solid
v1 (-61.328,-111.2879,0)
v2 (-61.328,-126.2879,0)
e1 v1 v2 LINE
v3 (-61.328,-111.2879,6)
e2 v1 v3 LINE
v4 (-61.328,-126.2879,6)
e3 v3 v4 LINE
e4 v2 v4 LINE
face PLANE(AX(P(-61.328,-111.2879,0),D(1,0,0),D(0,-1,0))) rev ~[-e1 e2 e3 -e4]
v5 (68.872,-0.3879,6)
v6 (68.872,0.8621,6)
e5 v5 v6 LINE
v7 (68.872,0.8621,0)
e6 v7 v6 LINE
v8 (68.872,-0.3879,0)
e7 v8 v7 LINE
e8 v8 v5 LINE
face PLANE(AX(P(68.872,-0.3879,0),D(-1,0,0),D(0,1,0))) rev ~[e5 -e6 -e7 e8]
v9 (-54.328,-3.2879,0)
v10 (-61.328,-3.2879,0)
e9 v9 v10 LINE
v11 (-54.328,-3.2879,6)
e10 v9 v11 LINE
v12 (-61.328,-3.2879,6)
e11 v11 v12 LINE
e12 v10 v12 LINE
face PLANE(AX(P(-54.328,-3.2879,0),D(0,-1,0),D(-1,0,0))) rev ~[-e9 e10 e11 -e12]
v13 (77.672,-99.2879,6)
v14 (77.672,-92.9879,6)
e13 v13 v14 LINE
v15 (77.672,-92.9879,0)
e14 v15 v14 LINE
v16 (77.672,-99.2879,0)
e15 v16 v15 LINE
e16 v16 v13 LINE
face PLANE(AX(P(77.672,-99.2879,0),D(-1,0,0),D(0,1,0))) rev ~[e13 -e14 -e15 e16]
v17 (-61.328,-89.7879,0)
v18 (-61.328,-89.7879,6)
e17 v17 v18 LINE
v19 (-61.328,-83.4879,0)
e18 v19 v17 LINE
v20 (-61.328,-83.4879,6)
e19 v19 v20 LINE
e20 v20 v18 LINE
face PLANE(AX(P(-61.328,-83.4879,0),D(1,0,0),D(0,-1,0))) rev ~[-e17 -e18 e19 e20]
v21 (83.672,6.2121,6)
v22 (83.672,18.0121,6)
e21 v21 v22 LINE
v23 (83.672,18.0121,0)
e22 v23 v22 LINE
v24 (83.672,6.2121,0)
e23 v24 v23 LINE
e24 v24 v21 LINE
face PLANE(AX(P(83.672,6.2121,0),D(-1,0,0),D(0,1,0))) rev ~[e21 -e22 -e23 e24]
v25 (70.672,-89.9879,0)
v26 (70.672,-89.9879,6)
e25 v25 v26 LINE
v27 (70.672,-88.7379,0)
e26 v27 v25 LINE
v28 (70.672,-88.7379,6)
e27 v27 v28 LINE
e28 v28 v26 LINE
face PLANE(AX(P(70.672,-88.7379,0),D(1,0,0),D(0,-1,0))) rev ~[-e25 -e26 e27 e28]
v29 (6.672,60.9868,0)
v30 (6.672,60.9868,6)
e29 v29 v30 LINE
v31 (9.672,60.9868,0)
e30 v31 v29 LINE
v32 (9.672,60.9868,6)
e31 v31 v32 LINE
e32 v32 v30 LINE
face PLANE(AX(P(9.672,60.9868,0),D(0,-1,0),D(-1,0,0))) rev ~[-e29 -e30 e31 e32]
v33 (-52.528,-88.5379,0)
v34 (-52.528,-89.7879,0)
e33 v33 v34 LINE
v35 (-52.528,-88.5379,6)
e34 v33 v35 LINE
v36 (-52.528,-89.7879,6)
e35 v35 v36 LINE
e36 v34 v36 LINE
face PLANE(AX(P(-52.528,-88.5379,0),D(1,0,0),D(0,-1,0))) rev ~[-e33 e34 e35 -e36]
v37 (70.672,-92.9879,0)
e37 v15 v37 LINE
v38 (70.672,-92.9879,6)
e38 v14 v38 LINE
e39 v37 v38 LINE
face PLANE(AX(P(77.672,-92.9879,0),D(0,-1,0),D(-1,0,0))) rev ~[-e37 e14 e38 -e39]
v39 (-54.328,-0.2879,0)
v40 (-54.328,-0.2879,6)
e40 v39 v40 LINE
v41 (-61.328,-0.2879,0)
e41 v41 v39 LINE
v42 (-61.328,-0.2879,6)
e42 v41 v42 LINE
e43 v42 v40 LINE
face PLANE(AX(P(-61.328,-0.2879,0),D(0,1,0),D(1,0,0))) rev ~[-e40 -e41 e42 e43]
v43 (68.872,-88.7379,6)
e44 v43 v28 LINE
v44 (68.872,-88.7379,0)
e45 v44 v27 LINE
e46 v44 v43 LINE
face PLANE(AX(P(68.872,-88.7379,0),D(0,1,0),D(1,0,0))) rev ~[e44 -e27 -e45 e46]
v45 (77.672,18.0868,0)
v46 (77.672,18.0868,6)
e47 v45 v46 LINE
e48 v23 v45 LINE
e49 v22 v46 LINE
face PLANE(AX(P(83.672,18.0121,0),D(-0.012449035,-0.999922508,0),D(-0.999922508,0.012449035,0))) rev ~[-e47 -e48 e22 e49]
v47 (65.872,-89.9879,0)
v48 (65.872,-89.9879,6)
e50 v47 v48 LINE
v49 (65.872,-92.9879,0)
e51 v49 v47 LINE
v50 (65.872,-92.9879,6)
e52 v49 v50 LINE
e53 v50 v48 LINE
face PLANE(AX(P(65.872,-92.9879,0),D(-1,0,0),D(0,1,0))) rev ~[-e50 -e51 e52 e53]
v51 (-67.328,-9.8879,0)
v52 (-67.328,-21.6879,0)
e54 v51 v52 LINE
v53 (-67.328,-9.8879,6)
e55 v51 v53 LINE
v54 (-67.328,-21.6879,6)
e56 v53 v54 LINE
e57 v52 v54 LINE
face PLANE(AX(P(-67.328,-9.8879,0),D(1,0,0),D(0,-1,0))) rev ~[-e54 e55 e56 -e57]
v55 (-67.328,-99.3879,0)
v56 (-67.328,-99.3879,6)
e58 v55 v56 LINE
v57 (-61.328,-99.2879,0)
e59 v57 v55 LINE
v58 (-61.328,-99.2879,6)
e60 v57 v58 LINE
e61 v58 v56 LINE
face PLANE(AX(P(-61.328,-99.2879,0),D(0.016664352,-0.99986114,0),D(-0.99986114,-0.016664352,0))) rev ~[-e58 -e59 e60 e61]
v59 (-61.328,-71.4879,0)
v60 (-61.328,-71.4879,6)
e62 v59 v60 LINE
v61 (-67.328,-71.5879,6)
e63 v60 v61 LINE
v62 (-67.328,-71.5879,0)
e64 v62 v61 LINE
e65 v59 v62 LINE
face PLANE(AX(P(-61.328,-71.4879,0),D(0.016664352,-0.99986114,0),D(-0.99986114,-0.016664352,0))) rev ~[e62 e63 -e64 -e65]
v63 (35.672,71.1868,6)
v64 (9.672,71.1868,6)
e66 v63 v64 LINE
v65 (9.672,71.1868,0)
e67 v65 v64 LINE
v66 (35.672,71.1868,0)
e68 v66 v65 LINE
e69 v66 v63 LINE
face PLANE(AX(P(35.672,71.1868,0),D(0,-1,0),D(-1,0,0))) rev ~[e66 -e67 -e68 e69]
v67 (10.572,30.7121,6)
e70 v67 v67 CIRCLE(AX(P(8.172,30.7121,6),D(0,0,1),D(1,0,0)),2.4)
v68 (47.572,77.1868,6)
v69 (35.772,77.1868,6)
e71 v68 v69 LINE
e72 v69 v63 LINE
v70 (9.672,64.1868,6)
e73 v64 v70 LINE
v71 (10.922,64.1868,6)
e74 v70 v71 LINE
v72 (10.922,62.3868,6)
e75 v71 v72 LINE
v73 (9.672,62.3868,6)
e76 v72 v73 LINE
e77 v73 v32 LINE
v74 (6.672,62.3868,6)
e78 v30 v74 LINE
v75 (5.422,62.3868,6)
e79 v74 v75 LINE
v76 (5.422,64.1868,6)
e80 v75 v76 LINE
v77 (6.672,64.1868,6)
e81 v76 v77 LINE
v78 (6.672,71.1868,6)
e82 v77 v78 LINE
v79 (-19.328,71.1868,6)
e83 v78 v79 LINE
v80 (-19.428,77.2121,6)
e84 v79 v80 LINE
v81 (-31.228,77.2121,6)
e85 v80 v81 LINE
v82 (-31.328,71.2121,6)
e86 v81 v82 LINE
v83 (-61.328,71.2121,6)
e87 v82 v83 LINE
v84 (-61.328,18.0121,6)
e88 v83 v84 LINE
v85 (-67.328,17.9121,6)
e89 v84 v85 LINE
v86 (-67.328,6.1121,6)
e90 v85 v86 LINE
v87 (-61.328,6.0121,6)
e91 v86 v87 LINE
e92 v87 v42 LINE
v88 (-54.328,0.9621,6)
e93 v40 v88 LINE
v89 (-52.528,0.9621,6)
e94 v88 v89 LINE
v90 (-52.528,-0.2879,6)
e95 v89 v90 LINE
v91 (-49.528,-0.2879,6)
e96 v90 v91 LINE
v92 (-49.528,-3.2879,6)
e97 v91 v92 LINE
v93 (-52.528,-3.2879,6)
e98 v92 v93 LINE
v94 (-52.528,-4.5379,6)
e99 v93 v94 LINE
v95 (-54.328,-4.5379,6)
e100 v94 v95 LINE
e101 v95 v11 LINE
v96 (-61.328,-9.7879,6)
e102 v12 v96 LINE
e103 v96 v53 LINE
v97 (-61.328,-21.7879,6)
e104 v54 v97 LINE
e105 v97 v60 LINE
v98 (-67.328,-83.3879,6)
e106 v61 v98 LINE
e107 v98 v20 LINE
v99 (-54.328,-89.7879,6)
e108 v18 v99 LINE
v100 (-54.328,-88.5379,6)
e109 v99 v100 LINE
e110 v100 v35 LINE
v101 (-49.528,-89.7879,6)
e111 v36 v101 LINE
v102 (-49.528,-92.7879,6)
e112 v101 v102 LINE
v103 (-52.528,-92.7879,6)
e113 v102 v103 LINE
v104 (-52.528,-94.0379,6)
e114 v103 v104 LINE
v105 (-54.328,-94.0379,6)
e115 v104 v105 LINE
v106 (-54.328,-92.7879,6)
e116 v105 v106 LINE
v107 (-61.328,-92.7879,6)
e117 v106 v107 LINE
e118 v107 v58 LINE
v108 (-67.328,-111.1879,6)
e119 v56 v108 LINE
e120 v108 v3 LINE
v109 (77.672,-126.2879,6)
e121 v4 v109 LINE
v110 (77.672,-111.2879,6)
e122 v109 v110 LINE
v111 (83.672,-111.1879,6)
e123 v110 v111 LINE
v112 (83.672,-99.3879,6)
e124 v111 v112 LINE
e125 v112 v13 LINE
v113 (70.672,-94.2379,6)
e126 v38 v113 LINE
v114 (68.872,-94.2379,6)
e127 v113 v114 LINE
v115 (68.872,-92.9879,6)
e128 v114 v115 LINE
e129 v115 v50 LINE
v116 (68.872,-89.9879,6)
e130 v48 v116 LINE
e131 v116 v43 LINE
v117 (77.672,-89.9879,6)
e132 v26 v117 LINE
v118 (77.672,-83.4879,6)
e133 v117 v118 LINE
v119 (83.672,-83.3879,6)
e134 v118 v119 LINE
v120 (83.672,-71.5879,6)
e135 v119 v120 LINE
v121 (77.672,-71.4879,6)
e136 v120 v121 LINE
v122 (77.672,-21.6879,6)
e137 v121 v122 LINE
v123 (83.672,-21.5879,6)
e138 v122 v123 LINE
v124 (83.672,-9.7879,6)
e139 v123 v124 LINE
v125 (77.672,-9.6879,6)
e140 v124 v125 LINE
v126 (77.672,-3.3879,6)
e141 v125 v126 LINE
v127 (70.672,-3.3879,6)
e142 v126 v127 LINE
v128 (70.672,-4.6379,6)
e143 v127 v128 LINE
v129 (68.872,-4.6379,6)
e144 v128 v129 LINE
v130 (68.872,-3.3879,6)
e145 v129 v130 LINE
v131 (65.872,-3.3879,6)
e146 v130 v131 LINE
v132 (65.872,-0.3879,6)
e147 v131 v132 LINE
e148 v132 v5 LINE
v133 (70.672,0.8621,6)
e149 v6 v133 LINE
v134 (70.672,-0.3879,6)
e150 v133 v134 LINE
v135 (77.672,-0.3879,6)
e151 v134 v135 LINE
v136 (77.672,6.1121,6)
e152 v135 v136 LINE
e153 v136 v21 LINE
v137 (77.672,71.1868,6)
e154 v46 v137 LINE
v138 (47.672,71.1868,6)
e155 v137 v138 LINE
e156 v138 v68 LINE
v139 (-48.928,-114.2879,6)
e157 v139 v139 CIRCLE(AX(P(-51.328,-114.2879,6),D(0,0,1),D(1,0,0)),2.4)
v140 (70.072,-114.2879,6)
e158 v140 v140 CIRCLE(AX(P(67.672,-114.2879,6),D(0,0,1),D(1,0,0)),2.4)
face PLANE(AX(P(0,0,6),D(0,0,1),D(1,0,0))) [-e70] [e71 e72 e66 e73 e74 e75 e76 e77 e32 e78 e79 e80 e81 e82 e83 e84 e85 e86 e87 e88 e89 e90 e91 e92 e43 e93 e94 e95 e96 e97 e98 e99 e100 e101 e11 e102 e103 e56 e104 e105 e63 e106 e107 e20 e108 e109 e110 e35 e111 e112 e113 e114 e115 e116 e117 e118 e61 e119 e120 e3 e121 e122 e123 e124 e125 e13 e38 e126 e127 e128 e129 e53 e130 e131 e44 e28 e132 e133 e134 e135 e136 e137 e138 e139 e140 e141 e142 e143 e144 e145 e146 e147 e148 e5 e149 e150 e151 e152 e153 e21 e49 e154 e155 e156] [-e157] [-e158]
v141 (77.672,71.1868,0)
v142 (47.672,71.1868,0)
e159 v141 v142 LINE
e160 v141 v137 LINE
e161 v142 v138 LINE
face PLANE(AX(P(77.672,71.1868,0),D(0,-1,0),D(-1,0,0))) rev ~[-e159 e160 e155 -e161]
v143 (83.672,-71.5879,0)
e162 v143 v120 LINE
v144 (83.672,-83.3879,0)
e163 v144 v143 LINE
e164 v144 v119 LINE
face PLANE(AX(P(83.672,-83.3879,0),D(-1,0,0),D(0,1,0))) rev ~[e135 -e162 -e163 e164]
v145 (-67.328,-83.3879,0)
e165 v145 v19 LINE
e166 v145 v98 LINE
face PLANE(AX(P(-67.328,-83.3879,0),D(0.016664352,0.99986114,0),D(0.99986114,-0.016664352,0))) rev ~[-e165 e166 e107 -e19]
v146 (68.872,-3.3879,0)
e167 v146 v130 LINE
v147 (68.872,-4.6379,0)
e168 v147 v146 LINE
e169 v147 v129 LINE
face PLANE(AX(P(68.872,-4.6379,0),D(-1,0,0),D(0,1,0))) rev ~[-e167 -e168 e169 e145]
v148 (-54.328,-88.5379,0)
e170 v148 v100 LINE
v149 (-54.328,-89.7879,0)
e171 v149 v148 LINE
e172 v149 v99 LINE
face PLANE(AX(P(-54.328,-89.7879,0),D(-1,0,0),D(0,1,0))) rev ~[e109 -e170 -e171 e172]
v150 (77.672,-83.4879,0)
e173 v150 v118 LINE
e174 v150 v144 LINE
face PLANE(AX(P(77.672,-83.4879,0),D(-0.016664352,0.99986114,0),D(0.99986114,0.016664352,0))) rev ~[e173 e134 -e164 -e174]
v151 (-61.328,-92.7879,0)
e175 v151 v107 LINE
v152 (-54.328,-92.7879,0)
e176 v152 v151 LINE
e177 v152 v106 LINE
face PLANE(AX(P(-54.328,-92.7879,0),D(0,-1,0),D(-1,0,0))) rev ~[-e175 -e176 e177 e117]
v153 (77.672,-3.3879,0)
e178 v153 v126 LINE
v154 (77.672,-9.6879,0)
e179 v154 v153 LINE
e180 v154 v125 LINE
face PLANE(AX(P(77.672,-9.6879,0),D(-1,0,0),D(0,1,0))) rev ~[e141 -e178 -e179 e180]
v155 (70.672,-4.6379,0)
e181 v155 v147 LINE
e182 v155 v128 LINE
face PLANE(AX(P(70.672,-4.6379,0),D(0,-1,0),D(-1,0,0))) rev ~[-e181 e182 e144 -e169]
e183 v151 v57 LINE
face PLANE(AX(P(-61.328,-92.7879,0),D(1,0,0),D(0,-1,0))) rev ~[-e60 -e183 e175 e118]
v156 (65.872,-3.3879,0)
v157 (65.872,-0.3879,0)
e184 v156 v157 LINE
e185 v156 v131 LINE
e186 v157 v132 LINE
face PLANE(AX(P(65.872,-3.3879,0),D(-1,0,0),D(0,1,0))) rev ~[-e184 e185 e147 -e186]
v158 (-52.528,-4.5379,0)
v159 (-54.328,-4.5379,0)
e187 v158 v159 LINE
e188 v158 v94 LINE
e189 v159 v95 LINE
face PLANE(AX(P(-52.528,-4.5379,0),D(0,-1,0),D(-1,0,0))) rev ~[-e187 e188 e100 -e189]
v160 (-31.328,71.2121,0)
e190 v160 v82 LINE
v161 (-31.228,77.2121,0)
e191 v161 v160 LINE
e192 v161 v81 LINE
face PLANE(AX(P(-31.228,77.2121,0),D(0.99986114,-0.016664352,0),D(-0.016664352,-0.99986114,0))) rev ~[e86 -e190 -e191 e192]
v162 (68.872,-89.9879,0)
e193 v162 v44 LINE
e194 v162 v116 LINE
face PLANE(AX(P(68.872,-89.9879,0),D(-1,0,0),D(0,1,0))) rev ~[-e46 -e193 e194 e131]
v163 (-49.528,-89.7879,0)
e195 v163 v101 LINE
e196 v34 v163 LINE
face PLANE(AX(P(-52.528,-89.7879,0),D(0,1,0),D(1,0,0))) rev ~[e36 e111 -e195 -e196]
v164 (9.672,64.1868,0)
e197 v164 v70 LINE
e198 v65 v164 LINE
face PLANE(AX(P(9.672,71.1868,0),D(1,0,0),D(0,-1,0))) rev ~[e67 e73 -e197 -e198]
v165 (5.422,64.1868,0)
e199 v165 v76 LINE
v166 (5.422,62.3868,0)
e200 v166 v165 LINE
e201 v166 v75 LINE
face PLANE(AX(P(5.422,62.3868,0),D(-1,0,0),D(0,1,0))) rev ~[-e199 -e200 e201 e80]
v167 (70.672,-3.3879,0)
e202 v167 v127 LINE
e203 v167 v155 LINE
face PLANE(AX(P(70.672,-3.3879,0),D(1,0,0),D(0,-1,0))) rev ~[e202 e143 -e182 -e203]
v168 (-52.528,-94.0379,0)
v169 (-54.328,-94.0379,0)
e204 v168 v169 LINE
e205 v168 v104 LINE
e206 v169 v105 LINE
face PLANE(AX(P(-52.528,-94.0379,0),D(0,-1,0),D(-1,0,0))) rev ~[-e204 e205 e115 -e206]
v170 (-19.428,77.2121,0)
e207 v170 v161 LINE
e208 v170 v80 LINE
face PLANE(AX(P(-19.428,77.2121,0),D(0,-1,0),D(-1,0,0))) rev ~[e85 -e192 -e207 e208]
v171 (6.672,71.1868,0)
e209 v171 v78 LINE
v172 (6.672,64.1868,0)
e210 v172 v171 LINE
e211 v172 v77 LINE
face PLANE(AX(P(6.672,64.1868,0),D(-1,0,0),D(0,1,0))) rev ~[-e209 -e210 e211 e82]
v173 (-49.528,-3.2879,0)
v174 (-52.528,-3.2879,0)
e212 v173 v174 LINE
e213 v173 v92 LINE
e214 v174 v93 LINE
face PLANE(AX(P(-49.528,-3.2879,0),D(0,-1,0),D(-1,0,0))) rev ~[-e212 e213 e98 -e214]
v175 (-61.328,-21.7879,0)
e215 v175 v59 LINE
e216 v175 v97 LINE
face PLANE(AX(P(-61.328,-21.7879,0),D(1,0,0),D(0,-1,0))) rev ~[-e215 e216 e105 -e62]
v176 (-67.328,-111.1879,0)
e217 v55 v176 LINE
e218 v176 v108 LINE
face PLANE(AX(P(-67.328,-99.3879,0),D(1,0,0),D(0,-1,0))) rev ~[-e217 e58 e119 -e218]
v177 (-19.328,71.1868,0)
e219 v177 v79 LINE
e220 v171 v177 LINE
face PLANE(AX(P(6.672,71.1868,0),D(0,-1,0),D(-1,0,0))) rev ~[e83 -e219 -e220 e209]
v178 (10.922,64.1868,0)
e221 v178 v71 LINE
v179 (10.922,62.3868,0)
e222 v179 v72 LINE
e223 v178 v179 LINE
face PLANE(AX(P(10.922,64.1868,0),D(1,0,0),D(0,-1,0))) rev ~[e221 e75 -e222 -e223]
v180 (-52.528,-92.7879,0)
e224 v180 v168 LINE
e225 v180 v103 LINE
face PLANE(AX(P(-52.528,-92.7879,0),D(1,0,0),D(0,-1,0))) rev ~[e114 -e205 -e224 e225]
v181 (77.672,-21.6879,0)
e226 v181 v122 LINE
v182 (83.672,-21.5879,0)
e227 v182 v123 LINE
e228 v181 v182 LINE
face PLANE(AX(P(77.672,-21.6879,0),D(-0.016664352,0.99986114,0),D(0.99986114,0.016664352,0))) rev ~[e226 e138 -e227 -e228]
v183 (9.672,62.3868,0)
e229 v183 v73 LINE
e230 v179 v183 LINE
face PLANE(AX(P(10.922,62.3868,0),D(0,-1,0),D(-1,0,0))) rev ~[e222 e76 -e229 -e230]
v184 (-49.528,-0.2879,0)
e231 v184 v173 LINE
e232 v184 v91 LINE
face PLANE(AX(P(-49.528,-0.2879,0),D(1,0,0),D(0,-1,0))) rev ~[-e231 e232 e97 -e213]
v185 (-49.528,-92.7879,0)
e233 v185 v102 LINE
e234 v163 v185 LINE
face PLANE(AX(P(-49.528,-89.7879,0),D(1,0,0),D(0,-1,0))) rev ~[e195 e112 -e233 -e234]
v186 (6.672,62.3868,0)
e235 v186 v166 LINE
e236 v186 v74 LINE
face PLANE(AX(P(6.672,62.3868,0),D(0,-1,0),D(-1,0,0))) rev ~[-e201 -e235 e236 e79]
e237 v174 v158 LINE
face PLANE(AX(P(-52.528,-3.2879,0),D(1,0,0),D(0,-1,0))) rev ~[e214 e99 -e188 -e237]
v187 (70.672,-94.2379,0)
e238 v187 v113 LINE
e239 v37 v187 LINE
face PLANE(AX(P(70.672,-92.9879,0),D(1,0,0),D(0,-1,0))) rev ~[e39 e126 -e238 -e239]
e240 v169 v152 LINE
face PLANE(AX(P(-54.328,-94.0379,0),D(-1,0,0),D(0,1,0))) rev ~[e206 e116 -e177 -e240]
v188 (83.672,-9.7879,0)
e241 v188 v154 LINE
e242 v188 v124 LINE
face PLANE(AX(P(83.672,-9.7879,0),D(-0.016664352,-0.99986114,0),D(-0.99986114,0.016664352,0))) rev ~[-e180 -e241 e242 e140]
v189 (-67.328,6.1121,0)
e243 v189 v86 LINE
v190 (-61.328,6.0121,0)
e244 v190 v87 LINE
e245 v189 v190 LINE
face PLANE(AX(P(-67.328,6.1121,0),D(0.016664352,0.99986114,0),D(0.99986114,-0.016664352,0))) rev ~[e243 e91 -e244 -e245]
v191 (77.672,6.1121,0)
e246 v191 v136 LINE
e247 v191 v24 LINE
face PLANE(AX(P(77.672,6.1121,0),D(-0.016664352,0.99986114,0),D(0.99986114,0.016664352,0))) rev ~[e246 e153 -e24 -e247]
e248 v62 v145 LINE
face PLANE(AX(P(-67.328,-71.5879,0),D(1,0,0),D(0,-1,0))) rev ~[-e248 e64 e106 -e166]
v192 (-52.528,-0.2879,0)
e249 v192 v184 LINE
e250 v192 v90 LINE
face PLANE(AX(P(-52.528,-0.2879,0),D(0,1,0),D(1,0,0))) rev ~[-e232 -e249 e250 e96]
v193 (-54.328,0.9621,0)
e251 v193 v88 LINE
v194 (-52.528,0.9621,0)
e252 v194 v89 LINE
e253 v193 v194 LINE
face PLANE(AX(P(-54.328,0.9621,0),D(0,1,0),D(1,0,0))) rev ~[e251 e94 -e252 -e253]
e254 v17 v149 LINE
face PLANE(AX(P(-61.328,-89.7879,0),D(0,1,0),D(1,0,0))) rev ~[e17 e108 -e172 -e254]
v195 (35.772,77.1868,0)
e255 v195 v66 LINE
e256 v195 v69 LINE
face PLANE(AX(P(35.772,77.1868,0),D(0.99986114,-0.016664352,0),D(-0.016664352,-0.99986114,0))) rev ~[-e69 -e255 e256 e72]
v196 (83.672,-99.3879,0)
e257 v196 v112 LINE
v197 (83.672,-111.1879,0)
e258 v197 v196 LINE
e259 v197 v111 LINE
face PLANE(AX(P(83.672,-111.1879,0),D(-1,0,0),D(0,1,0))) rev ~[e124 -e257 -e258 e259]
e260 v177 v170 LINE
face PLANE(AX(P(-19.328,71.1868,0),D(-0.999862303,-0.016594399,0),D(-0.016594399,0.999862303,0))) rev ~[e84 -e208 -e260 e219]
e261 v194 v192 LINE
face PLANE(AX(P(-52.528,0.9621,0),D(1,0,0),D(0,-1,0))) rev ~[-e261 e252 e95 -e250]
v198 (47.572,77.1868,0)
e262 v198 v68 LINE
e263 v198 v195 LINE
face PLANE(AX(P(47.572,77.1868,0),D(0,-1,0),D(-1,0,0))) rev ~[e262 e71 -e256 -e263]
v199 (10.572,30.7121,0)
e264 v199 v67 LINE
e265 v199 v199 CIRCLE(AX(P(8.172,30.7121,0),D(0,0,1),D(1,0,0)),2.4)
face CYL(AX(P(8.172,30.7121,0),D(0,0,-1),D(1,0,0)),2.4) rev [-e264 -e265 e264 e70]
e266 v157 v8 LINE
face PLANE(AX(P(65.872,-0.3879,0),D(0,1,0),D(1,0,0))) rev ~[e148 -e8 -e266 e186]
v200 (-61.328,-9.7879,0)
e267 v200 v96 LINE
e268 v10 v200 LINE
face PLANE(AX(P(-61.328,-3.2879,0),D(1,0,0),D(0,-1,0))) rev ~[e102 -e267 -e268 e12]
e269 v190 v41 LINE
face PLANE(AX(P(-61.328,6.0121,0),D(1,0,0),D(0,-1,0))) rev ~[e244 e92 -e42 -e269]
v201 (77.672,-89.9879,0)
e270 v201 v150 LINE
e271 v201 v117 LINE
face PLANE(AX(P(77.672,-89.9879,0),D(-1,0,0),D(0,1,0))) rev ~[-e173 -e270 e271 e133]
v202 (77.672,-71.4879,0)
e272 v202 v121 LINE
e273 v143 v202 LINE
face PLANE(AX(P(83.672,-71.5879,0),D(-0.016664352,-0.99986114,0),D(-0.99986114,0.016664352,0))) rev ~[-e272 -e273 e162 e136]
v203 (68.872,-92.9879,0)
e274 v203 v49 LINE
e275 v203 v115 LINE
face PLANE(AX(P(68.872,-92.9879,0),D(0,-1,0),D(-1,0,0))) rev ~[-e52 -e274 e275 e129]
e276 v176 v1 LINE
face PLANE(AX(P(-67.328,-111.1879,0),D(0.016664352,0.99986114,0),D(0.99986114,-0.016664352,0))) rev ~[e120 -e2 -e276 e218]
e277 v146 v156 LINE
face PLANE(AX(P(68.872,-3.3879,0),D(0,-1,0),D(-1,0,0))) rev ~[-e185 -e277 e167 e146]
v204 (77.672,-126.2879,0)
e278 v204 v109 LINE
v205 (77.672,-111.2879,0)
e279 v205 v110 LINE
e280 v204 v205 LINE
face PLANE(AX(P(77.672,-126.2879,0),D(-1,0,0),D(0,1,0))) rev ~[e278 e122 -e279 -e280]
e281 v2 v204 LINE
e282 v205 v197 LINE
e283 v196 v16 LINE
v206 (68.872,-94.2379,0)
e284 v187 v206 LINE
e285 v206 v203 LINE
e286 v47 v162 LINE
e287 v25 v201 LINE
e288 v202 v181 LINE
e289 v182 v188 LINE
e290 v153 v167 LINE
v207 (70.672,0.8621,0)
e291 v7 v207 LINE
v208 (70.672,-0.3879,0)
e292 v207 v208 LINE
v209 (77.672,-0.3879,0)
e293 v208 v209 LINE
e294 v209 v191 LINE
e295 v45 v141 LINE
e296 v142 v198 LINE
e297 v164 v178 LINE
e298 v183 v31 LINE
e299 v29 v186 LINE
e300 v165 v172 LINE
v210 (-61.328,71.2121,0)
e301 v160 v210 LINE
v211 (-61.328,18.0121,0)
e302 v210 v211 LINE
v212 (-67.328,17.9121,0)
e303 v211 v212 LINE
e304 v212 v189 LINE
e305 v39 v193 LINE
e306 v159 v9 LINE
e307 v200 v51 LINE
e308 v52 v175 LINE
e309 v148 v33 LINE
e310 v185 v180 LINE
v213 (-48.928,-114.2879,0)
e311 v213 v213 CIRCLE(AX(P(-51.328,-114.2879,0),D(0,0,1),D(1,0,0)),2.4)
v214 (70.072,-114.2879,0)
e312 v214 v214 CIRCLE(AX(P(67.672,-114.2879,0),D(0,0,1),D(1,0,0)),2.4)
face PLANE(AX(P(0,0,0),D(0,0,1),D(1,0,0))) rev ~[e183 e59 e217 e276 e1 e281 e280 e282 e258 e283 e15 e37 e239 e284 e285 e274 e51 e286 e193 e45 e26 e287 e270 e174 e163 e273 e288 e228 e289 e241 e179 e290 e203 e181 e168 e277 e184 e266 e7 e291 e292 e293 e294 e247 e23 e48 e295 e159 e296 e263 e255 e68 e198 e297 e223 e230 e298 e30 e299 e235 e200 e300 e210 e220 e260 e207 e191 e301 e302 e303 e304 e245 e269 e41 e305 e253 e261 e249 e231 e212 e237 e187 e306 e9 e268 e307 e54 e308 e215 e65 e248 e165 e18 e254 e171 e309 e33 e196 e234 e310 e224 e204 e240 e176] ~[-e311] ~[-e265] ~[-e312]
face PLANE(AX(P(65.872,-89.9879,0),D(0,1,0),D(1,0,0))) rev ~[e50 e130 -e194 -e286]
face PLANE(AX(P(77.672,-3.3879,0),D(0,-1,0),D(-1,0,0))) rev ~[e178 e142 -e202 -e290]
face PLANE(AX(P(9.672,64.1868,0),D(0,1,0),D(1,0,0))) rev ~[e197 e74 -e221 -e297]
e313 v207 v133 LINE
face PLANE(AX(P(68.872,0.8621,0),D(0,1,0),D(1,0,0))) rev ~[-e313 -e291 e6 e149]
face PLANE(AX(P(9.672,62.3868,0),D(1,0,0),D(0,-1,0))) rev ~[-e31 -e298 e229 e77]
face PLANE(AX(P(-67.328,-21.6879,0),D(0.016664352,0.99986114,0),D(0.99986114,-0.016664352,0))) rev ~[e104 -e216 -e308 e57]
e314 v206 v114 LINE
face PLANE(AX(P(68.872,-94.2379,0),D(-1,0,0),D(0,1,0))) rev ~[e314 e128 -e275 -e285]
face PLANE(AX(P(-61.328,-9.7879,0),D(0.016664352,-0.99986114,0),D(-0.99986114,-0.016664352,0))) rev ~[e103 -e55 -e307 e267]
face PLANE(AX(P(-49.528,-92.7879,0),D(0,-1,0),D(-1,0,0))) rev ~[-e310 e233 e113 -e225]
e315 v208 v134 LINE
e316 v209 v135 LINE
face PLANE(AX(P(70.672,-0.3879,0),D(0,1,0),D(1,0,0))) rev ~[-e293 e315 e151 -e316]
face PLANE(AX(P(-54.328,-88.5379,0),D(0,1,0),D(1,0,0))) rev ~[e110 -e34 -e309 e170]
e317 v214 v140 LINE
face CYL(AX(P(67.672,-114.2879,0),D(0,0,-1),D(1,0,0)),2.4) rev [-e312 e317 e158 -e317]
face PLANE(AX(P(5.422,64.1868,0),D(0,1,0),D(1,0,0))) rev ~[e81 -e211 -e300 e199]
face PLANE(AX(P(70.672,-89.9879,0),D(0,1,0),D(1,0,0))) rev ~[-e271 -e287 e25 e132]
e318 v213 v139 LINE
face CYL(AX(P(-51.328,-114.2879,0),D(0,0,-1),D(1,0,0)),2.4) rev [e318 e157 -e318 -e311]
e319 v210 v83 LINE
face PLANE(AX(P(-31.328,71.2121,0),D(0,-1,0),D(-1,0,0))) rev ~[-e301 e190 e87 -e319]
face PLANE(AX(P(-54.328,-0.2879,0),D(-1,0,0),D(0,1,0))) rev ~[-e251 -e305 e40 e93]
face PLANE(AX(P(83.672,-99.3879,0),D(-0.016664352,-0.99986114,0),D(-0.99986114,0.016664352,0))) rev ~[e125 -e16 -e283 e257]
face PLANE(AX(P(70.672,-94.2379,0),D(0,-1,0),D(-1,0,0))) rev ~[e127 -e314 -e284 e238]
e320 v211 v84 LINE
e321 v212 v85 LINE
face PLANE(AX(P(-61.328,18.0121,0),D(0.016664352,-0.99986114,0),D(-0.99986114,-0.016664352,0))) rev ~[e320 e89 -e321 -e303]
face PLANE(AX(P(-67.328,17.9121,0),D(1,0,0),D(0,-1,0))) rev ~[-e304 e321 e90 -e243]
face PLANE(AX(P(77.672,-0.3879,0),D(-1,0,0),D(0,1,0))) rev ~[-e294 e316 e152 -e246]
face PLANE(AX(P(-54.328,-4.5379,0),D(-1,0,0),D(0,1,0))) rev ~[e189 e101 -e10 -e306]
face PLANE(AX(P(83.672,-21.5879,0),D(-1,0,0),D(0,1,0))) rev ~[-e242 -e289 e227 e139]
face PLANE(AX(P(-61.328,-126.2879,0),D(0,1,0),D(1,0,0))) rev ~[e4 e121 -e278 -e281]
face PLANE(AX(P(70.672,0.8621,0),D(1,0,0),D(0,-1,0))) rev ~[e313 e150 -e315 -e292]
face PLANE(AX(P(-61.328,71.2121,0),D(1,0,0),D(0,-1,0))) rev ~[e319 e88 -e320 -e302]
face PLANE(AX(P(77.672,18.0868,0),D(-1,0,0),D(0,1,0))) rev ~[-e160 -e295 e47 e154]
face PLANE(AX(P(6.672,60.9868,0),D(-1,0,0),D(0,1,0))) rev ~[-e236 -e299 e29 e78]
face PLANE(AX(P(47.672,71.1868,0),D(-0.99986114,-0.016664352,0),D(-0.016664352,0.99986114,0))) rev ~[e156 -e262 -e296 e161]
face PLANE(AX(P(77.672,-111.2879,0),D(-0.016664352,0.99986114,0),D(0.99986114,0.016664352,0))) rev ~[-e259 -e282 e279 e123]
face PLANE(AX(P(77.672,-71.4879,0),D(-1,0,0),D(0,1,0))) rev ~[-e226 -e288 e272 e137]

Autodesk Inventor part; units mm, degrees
ref_plane "YZ Plane" through (0, 0, 0) normal (1, 0, 0) x (0, 1, 0)
ref_plane "XZ Plane" through (0, 0, 0) normal (0, 1, 0) x (-1, 0, 0)
ref_plane "XY Plane" through (0, 0, 0) normal (0, 0, 1) x (1, 0, 0)
sketch "Sketch1" plane through (0, 0, 0) normal (0, 0, 1) x (1, 0, 0)
  circle A0 centre (8.172, 30.7121) radius 2.4
  circle A1 centre (67.672, -114.2879) radius 2.4
  circle A2 centre (-51.328, -114.2879) radius 2.4
  line L0 (-61.328, 71.2121) -> (-61.328, 18.0121)
  line L1 (-61.328, 18.0121) -> (-67.328, 17.9121)
  line L2 (-67.328, 17.9121) -> (-67.328, 6.1121)
  line L3 (-67.328, 6.1121) -> (-61.328, 6.0121)
  line L4 (-61.328, 6.0121) -> (-61.328, -0.2879)
  line L5 (-61.328, -0.2879) -> (-54.328, -0.2879)
  line L6 (-54.328, -0.2879) -> (-54.328, 0.9621)
  line L7 (-54.328, 0.9621) -> (-52.528, 0.9621)
  line L8 (-52.528, 0.9621) -> (-52.528, -0.2879)
  line L9 (-52.528, -0.2879) -> (-49.528, -0.2879)
  line L10 (-49.528, -0.2879) -> (-49.528, -3.2879)
  line L11 (-49.528, -3.2879) -> (-52.528, -3.2879)
  line L12 (-52.528, -3.2879) -> (-52.528, -4.5379)
  line L13 (-52.528, -4.5379) -> (-54.328, -4.5379)
  line L14 (-54.328, -4.5379) -> (-54.328, -3.2879)
  line L15 (-54.328, -3.2879) -> (-61.328, -3.2879)
  line L16 (-61.328, -3.2879) -> (-61.328, -9.7879)
  line L17 (-61.328, -9.7879) -> (-67.328, -9.8879)
  line L18 (-67.328, -9.8879) -> (-67.328, -21.6879)
  line L19 (-67.328, -21.6879) -> (-61.328, -21.7879)
  line L20 (-61.328, -21.7879) -> (-61.328, -71.4879)
  line L21 (-61.328, -71.4879) -> (-67.328, -71.5879)
  line L22 (-67.328, -71.5879) -> (-67.328, -83.3879)
  line L23 (-67.328, -83.3879) -> (-61.328, -83.4879)
  line L24 (-61.328, -83.4879) -> (-61.328, -89.7879)
  line L25 (-61.328, -89.7879) -> (-54.328, -89.7879)
  line L26 (-54.328, -89.7879) -> (-54.328, -88.5379)
  line L27 (-54.328, -88.5379) -> (-52.528, -88.5379)
  line L28 (-52.528, -88.5379) -> (-52.528, -89.7879)
  line L29 (-52.528, -89.7879) -> (-49.528, -89.7879)
  line L30 (-49.528, -89.7879) -> (-49.528, -92.7879)
  line L31 (-49.528, -92.7879) -> (-52.528, -92.7879)
  line L32 (-52.528, -92.7879) -> (-52.528, -94.0379)
  line L33 (-52.528, -94.0379) -> (-54.328, -94.0379)
  line L34 (-54.328, -94.0379) -> (-54.328, -92.7879)
  line L35 (-54.328, -92.7879) -> (-61.328, -92.7879)
  line L36 (-61.328, -92.7879) -> (-61.328, -99.2879)
  line L37 (-61.328, -99.2879) -> (-67.328, -99.3879)
  line L38 (-67.328, -99.3879) -> (-67.328, -111.1879)
  line L39 (-67.328, -111.1879) -> (-61.328, -111.2879)
  line L40 (-61.328, -111.2879) -> (-61.328, -126.2879)
  line L41 (-61.328, -126.2879) -> (77.672, -126.2879)
  line L42 (77.672, -126.2879) -> (77.672, -111.2879)
  line L43 (77.672, -111.2879) -> (83.672, -111.1879)
  line L44 (83.672, -111.1879) -> (83.672, -99.3879)
  line L45 (83.672, -99.3879) -> (77.672, -99.2879)
  line L46 (77.672, -99.2879) -> (77.672, -92.9879)
  line L47 (77.672, -92.9879) -> (70.672, -92.9879)
  line L48 (70.672, -92.9879) -> (70.672, -94.2379)
  line L49 (70.672, -94.2379) -> (68.872, -94.2379)
  line L50 (68.872, -94.2379) -> (68.872, -92.9879)
  line L51 (68.872, -92.9879) -> (65.872, -92.9879)
  line L52 (65.872, -92.9879) -> (65.872, -89.9879)
  line L53 (65.872, -89.9879) -> (68.872, -89.9879)
  line L54 (68.872, -89.9879) -> (68.872, -88.7379)
  line L55 (68.872, -88.7379) -> (70.672, -88.7379)
  line L56 (70.672, -88.7379) -> (70.672, -89.9879)
  line L57 (70.672, -89.9879) -> (77.672, -89.9879)
  line L58 (77.672, -89.9879) -> (77.672, -83.4879)
  line L59 (77.672, -83.4879) -> (83.672, -83.3879)
  line L60 (83.672, -83.3879) -> (83.672, -71.5879)
  line L61 (83.672, -71.5879) -> (77.672, -71.4879)
  line L62 (77.672, -71.4879) -> (77.672, -21.6879)
  line L63 (77.672, -21.6879) -> (83.672, -21.5879)
  line L64 (83.672, -21.5879) -> (83.672, -9.7879)
  line L65 (83.672, -9.7879) -> (77.672, -9.6879)
  line L66 (77.672, -9.6879) -> (77.672, -3.3879)
  line L67 (77.672, -3.3879) -> (70.672, -3.3879)
  line L68 (70.672, -3.3879) -> (70.672, -4.6379)
  line L69 (70.672, -4.6379) -> (68.872, -4.6379)
  line L70 (68.872, -4.6379) -> (68.872, -3.3879)
  line L71 (68.872, -3.3879) -> (65.872, -3.3879)
  line L72 (65.872, -3.3879) -> (65.872, -0.3879)
  line L73 (65.872, -0.3879) -> (68.872, -0.3879)
  line L74 (68.872, -0.3879) -> (68.872, 0.8621)
  line L75 (68.872, 0.8621) -> (70.672, 0.8621)
  line L76 (70.672, 0.8621) -> (70.672, -0.3879)
  line L77 (70.672, -0.3879) -> (77.672, -0.3879)
  line L78 (77.672, -0.3879) -> (77.672, 6.1121)
  line L79 (77.672, 6.1121) -> (83.672, 6.2121)
  line L80 (83.672, 6.2121) -> (83.672, 18.0121)
  line L81 (83.672, 18.0121) -> (77.672, 18.0868)
  line L82 (77.672, 18.0868) -> (77.672, 71.1868)
  line L83 (77.672, 71.1868) -> (47.672, 71.1868)
  line L84 (47.672, 71.1868) -> (47.572, 77.1868)
  line L85 (47.572, 77.1868) -> (35.772, 77.1868)
  line L86 (35.772, 77.1868) -> (35.672, 71.1868)
  line L87 (35.672, 71.1868) -> (9.672, 71.1868)
  line L88 (9.672, 71.1868) -> (9.672, 64.1868)
  line L89 (9.672, 64.1868) -> (10.922, 64.1868)
  line L90 (10.922, 64.1868) -> (10.922, 62.3868)
  line L91 (10.922, 62.3868) -> (9.672, 62.3868)
  line L92 (9.672, 62.3868) -> (9.672, 60.9868)
  line L93 (9.672, 60.9868) -> (6.672, 60.9868)
  line L94 (6.672, 60.9868) -> (6.672, 62.3868)
  line L95 (6.672, 62.3868) -> (5.422, 62.3868)
  line L96 (5.422, 62.3868) -> (5.422, 64.1868)
  line L97 (5.422, 64.1868) -> (6.672, 64.1868)
  line L98 (6.672, 64.1868) -> (6.672, 71.1868)
  line L99 (6.672, 71.1868) -> (-19.328, 71.1868)
  line L100 (-19.328, 71.1868) -> (-19.428, 77.2121)
  line L101 (-19.428, 77.2121) -> (-31.228, 77.2121)
  line L102 (-31.228, 77.2121) -> (-31.328, 71.2121)
  line L103 (-31.328, 71.2121) -> (-61.328, 71.2121)
  point P0 (0, 0)
  point P1 (0, 0)
extrude "Extrusion1" add sketch "Sketch1" along normal blind 6
properties part number "yCarPlate"
